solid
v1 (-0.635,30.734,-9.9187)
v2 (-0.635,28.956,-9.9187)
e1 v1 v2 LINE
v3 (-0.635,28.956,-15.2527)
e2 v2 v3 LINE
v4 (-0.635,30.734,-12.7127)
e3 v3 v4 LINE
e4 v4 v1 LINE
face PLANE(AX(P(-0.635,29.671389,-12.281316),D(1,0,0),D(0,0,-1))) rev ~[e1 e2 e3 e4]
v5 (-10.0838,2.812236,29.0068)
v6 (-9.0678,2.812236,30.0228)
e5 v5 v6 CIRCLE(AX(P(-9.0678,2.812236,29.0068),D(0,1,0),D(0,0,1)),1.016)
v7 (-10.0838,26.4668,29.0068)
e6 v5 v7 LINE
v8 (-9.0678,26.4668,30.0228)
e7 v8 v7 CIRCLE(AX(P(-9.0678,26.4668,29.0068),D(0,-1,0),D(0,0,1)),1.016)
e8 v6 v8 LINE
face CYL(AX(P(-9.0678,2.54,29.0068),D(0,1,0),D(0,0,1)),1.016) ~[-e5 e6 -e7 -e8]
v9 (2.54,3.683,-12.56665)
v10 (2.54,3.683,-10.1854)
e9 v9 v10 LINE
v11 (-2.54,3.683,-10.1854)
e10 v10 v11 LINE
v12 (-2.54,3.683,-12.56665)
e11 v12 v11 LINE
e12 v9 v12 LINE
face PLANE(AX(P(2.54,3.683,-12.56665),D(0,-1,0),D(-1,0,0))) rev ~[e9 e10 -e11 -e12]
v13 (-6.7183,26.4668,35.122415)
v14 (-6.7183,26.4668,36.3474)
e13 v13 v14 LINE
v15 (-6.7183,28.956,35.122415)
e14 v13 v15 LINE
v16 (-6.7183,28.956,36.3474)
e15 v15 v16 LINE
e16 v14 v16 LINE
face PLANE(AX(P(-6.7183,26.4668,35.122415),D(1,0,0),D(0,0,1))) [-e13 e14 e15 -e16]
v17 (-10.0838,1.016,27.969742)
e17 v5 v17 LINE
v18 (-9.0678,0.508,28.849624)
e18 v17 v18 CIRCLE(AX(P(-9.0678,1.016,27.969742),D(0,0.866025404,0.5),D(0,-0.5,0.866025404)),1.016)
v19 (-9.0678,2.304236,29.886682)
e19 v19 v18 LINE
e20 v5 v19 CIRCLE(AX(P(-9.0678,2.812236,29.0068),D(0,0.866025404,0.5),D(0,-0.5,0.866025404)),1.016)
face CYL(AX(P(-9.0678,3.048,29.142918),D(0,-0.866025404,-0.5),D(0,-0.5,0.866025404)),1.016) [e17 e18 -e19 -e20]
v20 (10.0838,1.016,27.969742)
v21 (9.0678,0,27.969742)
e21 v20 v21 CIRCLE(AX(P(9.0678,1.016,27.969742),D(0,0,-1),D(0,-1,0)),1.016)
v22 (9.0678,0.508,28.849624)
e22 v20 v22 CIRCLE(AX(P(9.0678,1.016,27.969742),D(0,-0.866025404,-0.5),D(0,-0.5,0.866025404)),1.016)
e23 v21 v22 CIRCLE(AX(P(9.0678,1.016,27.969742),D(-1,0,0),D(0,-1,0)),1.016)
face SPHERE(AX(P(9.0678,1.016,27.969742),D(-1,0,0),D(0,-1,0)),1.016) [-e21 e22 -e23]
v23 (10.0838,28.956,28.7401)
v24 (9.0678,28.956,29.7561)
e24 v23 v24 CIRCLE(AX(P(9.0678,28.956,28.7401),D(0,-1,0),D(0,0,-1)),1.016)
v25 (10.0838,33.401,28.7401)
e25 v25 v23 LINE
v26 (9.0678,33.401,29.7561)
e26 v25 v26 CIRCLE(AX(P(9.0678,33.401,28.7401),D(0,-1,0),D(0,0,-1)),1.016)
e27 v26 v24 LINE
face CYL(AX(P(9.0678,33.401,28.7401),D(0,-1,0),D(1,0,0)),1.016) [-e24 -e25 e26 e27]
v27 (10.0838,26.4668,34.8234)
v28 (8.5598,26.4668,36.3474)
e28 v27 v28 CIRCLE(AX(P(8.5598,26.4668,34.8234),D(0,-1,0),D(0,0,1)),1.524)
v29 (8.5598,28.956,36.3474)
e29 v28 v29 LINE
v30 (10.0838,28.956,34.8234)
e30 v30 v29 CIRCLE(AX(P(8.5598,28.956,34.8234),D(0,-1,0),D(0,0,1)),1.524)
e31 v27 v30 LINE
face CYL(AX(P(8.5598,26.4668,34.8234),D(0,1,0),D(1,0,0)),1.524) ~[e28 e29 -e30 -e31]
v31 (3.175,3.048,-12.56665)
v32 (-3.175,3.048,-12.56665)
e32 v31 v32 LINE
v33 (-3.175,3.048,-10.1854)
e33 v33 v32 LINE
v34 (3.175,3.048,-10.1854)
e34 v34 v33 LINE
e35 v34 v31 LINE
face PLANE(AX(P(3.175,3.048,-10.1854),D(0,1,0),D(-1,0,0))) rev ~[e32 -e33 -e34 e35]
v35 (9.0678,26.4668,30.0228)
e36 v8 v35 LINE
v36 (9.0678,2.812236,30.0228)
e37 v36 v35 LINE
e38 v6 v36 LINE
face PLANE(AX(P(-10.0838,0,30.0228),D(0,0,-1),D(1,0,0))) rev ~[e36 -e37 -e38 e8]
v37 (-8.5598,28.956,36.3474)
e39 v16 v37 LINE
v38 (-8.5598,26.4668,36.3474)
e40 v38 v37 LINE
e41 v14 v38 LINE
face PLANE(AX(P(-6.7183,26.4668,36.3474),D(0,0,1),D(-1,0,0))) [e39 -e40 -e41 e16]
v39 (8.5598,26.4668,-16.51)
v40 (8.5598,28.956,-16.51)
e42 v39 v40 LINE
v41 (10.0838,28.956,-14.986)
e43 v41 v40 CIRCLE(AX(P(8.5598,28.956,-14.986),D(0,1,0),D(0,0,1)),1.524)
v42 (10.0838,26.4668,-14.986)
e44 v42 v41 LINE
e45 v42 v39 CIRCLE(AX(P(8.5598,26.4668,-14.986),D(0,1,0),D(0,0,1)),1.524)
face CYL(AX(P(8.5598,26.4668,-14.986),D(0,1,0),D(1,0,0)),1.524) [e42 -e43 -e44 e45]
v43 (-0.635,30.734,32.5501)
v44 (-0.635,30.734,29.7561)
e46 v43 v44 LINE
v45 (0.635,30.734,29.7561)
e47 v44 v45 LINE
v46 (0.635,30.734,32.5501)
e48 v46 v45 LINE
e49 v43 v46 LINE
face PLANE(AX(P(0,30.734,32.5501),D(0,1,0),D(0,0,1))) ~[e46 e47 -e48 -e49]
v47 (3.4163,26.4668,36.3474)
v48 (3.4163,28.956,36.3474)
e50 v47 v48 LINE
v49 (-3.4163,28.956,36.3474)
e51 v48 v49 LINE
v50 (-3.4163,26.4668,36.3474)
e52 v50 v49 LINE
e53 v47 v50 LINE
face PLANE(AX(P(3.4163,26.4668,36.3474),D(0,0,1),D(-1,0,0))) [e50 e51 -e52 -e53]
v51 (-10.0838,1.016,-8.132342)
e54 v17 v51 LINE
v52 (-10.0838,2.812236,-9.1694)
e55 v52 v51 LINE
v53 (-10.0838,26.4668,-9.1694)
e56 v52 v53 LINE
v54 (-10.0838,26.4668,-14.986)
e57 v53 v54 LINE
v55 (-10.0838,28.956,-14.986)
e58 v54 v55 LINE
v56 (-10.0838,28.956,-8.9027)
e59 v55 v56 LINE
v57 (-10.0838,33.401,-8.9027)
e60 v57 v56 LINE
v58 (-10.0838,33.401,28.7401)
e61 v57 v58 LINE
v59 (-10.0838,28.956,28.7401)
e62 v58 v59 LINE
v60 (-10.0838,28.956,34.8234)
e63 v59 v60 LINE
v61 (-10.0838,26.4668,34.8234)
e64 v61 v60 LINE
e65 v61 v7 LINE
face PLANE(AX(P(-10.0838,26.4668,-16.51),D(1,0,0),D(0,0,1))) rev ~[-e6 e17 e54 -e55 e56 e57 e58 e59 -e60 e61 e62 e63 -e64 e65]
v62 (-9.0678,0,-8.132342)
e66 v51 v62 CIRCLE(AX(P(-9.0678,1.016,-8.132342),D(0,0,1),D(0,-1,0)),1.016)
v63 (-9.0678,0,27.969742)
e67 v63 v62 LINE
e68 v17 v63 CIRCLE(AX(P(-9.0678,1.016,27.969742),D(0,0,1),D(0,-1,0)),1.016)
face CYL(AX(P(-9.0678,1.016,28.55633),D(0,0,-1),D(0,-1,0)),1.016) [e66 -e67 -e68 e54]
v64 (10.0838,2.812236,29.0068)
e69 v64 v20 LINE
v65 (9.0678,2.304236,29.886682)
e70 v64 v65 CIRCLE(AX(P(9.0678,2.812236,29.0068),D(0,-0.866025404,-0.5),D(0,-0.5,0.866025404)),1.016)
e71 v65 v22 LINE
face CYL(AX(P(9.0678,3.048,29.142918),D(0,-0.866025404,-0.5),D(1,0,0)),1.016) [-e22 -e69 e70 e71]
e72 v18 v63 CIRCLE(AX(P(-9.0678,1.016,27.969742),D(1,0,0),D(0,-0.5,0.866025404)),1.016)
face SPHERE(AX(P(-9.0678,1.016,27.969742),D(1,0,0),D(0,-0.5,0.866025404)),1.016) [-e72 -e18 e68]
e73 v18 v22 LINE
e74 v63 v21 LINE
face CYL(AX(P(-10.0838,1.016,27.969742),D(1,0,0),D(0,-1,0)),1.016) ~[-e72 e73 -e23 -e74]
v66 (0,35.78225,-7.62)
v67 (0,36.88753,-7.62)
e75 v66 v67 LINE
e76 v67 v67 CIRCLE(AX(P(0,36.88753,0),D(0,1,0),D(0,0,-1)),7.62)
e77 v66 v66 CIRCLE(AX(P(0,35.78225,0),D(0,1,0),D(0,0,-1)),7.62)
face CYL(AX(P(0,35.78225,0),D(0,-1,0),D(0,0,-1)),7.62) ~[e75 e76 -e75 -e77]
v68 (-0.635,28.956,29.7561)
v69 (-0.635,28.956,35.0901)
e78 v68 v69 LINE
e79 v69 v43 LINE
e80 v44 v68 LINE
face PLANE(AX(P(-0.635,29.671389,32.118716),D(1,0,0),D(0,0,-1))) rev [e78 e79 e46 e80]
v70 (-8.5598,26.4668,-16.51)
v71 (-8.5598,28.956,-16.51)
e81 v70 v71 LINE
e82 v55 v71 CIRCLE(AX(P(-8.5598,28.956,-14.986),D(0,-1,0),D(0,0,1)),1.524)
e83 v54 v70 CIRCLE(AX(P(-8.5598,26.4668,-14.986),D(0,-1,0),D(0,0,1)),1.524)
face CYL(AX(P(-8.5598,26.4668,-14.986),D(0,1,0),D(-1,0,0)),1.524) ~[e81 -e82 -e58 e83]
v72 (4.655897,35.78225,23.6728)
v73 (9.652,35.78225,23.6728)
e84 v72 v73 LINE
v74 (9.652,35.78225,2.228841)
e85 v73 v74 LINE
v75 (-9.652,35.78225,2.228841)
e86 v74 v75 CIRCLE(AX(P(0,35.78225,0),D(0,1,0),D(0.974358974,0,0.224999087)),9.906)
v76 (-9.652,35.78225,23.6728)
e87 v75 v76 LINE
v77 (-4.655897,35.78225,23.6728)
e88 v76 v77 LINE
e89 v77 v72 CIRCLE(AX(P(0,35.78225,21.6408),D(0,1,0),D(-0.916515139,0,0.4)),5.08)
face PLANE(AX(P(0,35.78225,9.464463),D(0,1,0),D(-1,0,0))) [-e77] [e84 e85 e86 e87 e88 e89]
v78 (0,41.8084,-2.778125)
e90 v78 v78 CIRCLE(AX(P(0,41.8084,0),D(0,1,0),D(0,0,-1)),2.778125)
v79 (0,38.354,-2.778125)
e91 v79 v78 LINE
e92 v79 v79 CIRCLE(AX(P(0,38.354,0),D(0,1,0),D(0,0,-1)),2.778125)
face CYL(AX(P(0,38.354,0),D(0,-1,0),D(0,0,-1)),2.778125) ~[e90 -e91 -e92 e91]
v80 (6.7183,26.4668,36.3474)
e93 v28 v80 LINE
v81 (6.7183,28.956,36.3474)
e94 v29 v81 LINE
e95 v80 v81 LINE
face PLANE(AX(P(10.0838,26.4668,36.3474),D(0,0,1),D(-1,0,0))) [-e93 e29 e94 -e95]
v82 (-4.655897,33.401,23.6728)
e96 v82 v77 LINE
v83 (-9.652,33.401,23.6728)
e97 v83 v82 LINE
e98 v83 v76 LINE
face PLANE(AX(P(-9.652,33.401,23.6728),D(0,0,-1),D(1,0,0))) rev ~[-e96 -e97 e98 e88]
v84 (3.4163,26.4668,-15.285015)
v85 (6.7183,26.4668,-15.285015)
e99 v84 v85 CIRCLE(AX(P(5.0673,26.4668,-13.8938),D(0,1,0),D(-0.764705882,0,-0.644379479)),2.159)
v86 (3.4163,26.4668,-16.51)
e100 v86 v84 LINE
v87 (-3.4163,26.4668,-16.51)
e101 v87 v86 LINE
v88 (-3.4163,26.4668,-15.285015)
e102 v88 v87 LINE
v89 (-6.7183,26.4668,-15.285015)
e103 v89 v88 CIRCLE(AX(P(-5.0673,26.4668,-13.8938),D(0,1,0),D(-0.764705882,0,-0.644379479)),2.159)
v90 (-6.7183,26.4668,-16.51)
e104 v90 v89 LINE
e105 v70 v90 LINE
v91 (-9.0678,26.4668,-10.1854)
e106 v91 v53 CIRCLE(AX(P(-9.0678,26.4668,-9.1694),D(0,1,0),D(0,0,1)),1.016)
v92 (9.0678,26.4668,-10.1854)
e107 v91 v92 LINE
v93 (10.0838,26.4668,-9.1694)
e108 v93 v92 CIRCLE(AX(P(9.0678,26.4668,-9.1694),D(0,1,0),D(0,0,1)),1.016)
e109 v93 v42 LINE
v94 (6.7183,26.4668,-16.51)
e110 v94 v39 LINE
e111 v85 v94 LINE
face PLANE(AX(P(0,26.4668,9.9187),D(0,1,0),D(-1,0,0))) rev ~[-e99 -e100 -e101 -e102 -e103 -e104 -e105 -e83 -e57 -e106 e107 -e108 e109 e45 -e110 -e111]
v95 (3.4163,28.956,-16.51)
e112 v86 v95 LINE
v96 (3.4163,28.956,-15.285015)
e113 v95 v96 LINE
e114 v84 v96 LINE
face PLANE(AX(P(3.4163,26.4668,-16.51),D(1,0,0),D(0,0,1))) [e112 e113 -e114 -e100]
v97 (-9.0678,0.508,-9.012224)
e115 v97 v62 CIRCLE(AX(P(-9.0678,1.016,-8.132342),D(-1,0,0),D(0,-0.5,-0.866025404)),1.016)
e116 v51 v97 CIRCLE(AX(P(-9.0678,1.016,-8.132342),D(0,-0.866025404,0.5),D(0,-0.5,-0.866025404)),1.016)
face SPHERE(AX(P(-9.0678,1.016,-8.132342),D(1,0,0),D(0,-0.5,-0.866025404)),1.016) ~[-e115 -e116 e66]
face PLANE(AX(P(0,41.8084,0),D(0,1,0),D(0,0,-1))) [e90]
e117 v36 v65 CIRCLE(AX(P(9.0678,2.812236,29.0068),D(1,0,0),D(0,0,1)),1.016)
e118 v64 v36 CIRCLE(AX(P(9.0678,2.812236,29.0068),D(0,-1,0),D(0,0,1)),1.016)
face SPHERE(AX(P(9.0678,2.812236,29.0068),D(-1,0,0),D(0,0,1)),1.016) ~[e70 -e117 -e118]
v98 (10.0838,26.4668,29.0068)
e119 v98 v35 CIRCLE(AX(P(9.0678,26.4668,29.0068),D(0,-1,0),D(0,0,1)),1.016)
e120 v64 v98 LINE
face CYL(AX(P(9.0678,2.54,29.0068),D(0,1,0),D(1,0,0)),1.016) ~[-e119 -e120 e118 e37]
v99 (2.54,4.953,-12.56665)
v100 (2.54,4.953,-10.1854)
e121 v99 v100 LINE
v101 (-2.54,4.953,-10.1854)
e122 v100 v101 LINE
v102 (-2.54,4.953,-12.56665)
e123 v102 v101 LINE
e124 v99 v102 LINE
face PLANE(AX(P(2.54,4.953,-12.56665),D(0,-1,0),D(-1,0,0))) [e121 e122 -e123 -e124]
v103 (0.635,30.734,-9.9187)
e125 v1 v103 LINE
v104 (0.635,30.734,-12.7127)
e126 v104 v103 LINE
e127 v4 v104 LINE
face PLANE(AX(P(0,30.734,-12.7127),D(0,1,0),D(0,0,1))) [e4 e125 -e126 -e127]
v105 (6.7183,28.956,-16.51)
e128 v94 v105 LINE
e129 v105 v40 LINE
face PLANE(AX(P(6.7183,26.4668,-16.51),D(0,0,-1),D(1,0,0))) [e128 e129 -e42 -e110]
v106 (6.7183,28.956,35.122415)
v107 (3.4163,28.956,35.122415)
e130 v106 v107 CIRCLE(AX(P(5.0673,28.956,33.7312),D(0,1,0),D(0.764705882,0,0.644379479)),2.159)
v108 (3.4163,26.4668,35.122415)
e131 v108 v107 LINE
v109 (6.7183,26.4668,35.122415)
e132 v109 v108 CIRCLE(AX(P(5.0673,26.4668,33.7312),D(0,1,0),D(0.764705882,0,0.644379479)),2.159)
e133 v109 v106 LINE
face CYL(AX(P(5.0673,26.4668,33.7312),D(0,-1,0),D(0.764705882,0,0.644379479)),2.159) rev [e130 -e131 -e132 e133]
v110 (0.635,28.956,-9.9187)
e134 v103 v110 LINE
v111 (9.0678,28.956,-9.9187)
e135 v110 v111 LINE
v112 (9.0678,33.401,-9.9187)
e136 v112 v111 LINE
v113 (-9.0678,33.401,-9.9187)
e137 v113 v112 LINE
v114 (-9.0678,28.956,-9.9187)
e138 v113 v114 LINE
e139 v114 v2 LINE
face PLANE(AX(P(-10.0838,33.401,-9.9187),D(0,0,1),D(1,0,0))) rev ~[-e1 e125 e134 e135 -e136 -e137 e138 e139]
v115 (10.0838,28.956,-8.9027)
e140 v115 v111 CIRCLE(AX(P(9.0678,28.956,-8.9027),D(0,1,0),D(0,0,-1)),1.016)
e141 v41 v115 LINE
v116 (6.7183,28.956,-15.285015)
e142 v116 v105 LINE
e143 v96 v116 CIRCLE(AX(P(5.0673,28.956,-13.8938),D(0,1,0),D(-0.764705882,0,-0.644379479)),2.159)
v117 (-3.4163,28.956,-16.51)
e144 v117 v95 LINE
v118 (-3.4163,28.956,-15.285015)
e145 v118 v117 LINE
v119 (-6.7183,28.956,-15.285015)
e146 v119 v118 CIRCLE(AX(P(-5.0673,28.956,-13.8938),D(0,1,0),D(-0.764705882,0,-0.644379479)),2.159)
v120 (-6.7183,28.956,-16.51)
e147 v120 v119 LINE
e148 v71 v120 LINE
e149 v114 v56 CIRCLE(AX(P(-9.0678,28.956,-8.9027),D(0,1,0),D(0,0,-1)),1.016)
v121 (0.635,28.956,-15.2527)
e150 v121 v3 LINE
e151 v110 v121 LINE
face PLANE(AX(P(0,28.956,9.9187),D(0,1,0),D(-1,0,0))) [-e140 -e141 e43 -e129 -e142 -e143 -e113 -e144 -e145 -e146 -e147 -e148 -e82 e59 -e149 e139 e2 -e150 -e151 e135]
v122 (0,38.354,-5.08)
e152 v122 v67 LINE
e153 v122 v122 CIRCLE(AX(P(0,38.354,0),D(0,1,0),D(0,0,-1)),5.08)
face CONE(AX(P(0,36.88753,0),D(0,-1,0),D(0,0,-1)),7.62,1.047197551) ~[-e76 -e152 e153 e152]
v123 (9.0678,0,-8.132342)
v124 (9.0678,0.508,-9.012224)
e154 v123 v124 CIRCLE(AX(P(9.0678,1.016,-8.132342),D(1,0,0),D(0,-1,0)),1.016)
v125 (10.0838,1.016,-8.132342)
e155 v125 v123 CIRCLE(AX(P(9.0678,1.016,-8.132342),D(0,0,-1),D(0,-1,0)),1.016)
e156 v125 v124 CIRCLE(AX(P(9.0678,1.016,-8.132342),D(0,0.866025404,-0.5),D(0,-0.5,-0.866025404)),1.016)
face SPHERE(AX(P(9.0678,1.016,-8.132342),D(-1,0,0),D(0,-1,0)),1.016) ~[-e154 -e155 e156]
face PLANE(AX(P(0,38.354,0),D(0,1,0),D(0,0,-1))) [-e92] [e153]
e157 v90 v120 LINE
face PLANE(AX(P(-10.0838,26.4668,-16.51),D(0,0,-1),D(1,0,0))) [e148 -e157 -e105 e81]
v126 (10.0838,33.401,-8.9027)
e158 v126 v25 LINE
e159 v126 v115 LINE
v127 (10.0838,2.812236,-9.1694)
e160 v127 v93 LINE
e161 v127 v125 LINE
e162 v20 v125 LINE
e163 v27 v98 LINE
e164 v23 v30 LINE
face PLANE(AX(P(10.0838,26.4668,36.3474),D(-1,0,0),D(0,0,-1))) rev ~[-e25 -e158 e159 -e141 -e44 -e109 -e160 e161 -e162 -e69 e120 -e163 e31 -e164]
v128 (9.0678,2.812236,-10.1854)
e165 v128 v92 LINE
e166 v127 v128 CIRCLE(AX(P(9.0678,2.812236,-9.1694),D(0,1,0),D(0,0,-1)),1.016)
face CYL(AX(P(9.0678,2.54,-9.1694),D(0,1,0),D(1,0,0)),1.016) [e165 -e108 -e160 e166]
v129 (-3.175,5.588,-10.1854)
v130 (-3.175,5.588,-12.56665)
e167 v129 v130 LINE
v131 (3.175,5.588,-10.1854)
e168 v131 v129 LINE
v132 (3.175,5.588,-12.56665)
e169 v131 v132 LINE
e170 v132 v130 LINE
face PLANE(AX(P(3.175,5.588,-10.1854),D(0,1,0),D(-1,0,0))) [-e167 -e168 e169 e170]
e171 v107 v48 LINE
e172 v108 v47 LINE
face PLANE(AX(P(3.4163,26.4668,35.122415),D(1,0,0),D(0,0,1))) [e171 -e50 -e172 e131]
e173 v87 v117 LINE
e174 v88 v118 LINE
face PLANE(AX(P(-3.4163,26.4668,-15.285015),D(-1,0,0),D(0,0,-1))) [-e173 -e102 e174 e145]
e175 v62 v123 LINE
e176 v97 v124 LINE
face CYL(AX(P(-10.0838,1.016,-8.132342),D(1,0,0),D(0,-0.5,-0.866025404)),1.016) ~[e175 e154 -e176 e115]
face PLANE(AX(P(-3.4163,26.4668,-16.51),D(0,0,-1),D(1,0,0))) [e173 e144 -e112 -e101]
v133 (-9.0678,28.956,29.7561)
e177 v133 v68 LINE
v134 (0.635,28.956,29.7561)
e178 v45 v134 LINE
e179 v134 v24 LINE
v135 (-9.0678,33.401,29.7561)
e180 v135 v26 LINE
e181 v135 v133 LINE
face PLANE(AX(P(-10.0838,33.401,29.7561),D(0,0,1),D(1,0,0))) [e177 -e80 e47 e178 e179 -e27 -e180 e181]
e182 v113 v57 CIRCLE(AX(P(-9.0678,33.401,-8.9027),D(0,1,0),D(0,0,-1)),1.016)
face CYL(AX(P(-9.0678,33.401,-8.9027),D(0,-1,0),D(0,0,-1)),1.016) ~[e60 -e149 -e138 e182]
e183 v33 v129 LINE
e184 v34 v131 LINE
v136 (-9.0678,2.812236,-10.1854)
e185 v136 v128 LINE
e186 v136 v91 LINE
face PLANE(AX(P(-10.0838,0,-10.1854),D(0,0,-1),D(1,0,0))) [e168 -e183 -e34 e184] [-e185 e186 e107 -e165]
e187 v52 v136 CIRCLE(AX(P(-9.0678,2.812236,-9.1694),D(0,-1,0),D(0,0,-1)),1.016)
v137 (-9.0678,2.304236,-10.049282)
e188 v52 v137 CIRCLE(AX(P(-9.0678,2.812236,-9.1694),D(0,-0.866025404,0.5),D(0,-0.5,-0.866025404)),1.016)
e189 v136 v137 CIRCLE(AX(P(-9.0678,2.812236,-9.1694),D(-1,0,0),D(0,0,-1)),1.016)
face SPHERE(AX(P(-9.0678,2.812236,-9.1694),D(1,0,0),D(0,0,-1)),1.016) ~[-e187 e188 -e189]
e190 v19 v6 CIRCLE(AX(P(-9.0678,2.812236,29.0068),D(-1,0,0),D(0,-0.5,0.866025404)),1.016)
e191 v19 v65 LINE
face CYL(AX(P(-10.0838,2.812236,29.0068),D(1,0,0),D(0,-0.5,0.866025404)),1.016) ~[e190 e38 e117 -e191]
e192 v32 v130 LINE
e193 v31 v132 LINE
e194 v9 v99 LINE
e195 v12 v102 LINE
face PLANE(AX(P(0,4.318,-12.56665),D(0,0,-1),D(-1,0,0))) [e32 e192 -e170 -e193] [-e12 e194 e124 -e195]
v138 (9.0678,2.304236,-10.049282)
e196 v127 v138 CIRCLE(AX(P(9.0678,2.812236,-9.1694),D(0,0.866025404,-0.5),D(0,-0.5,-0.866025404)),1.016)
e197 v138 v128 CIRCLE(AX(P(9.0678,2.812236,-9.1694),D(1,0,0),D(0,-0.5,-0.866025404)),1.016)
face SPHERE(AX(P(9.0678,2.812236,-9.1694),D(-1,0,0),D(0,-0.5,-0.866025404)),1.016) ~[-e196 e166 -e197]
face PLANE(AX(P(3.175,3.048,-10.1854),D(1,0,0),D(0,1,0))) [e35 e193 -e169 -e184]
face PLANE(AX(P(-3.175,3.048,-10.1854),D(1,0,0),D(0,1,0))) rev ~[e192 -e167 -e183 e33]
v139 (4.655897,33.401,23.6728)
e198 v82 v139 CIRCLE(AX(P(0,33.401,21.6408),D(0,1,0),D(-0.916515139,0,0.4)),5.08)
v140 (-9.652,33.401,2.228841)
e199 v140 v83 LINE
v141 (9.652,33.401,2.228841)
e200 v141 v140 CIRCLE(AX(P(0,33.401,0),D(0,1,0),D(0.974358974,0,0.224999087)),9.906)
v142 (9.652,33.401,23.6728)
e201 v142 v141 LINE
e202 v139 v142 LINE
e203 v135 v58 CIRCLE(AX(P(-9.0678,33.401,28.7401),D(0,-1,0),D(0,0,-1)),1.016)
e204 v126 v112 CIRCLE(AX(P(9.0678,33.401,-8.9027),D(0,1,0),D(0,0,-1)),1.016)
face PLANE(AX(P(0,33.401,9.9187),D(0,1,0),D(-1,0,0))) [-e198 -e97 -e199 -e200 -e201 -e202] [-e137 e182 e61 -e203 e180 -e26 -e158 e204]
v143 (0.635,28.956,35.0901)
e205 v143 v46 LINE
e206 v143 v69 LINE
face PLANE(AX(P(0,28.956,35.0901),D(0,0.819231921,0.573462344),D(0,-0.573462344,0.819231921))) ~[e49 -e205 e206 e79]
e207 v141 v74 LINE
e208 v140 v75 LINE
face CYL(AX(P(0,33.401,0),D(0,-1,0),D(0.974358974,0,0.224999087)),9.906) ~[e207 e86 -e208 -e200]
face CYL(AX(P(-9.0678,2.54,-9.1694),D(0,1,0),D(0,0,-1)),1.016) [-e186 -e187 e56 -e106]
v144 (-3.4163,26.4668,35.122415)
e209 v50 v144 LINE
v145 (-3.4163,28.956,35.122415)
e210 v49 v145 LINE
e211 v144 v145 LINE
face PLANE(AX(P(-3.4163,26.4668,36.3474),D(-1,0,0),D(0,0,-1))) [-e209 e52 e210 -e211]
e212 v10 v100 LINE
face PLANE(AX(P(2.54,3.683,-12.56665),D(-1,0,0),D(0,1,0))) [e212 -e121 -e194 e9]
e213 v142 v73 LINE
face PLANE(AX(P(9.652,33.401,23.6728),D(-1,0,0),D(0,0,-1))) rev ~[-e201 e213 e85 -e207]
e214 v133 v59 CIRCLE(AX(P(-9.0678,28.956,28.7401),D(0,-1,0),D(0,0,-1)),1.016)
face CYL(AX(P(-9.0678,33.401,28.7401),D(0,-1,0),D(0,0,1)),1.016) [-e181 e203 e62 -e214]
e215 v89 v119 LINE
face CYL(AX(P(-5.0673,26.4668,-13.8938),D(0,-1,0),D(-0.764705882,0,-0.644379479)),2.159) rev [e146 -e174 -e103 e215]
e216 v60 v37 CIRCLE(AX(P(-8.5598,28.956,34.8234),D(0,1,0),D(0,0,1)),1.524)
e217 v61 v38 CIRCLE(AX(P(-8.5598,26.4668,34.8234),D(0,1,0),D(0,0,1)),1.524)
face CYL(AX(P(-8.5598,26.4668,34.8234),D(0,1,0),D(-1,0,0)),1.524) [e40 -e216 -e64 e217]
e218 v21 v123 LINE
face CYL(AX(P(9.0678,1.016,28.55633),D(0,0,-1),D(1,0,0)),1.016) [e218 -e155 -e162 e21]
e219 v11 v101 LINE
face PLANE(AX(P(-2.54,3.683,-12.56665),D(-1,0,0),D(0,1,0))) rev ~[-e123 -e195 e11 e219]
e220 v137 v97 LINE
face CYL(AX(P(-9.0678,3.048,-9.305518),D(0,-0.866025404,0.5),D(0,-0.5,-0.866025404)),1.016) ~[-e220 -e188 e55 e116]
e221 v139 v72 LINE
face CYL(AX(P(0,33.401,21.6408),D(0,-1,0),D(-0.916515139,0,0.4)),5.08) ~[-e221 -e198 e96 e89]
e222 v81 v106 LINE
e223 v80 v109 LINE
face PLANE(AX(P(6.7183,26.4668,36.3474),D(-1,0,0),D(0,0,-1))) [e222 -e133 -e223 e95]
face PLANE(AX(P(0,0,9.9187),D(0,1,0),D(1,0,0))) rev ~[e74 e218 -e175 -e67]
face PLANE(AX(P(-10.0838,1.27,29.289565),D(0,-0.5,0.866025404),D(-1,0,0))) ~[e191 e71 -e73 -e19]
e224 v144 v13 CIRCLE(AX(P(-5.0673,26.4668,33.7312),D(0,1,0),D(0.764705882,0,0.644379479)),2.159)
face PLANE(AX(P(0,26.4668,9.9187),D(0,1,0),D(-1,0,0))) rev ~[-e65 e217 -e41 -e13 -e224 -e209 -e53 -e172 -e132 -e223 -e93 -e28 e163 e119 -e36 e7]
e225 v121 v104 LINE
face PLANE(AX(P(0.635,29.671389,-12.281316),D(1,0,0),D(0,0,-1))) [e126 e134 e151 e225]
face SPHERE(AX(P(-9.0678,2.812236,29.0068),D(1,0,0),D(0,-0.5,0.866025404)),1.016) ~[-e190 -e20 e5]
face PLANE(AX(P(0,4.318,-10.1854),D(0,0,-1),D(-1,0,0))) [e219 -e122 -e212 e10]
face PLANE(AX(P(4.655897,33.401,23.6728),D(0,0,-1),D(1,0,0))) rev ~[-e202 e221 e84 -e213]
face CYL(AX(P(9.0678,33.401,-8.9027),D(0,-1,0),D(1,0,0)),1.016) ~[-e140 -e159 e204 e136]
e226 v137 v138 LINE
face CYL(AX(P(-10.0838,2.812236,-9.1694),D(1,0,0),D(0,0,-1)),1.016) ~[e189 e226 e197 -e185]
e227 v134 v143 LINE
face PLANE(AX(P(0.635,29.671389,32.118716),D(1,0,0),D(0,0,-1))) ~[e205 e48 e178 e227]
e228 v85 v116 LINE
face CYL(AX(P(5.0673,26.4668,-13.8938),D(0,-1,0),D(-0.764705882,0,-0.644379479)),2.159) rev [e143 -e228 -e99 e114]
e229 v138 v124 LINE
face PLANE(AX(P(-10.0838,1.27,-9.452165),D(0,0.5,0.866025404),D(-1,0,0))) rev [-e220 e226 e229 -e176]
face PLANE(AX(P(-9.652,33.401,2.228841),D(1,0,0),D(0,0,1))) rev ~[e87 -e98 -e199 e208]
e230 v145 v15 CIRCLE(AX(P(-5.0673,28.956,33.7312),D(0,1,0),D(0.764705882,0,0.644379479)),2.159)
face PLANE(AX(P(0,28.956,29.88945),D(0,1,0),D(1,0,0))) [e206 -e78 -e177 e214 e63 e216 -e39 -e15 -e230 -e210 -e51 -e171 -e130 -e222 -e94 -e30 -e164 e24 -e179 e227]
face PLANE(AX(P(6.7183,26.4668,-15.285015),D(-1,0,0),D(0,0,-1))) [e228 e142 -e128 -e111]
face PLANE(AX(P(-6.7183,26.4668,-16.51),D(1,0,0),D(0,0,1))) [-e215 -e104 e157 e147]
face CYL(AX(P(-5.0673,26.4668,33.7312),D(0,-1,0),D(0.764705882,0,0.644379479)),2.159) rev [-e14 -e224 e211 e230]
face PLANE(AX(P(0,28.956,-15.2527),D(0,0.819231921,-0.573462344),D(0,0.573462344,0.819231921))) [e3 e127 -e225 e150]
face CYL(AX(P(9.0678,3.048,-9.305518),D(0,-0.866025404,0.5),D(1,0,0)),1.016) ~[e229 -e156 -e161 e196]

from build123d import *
from OCP.BRepFilletAPI import BRepFilletAPI_MakeChamfer

# Parameters (mm, degrees)
SKETCH1_W          = 20.1676
SKETCH1_H          = 40.2082
EXTRUDE1_DEPTH     = 26.4668
SKETCH2_W          = 20.1676
SKETCH2_H          = 40.2082
EXTRUDE2_DEPTH     = 2.4892
SKETCH3_W          = 20.1676
SKETCH3_H          = 40.2082
EXTRUDE3_DEPTH     = 4.445
SKETCH11_W         = 20.1676
SKETCH11_H         = 0.2667
CUT_EXTRUDE2_DEPTH = 4.445
EXTRUDE4_DEPTH     = 2.38125
SKETCH5_R          = 7.62
EXTRUDE5_DEPTH     = 2.57175
CHAMFER1_SIZE      = 2.54
CHAMFER1_SIZE2     = 1.466469684
EXTRUDE6_DEPTH     = 0.635
SKETCH8_R          = 2.778125
EXTRUDE7_DEPTH     = 3.4544
CHAMFER2_SIZE      = 2.54
CHAMFER2_SIZE2     = 1.466469684
FILLET1_R          = 1.016
FILLET2_R          = 1.524
SKETCH9_W          = 6.35
SKETCH9_H          = 2.54
EXTRUDE8_DEPTH     = 2.38125
SKETCH10_W         = 5.08
SKETCH10_H         = 1.27
CUT_EXTRUDE1_DEPTH = 2.38125


with BuildPart() as part:
    # Sketch1 → Extrude1 (new body)
    with BuildSketch(Plane(origin=(0, 0, 0), x_dir=(1, 0, 0), z_dir=(0, 1, 0))):
        with Locations((0, -9.9187)):
            Rectangle(SKETCH1_W, SKETCH1_H)
    extrude(amount=EXTRUDE1_DEPTH)

    # Sketch2 → Extrude2 (add)
    with BuildSketch(Plane(origin=(0, 26.4668, 0), x_dir=(-1, 0, 0), z_dir=(0, 1, 0))):
        with Locations((0, 9.9187)):
            Rectangle(SKETCH2_W, SKETCH2_H)
        with BuildLine():
            ThreePointArc((6.7183, -15.285015296), (5.0673, -11.7348), (3.4163, -15.285015296))
            Line((3.4163, -15.285015296), (3.4163, -16.51))
            Line((3.4163, -16.51), (-3.4163, -16.51))
            Line((-3.4163, -16.51), (-3.4163, -15.285015296))
            ThreePointArc((-3.4163, -15.285015296), (-5.0673, -11.7348), (-6.7183, -15.285015296))
            Line((-6.7183, -15.285015296), (-6.7183, -16.51))
            Line((-6.7183, -16.51), (-10.0838, -16.51))
            Line((-10.0838, -16.51), (-10.0838, -10.1854))
            Line((-10.0838, -10.1854), (10.0838, -10.1854))
            Line((10.0838, -10.1854), (10.0838, -16.51))
            Line((10.0838, -16.51), (6.7183, -16.51))
            Line((6.7183, -16.51), (6.7183, -15.285015296))
        make_face()
        with BuildLine():
            ThreePointArc((-6.7183, 35.122415296), (-5.0673, 31.5722), (-3.4163, 35.122415296))
            Line((-3.4163, 35.122415296), (-3.4163, 36.3474))
            Line((-3.4163, 36.3474), (3.4163, 36.3474))
            Line((3.4163, 36.3474), (3.4163, 35.122415296))
            ThreePointArc((3.4163, 35.122415296), (5.0673, 31.5722), (6.7183, 35.122415296))
            Line((6.7183, 35.122415296), (6.7183, 36.3474))
            Line((6.7183, 36.3474), (10.0838, 36.3474))
            Line((10.0838, 36.3474), (10.0838, 30.0228))
            Line((10.0838, 30.0228), (-10.0838, 30.0228))
            Line((-10.0838, 30.0228), (-10.0838, 36.3474))
            Line((-10.0838, 36.3474), (-6.7183, 36.3474))
            Line((-6.7183, 36.3474), (-6.7183, 35.122415296))
        make_face()
    extrude(amount=EXTRUDE2_DEPTH)

    # Sketch3 → Extrude3 (add)
    with BuildSketch(Plane(origin=(0, 28.956, 0), x_dir=(-1, 0, 0), z_dir=(0, 1, 0))):
        with Locations((0, 9.9187)):
            Rectangle(SKETCH3_W, SKETCH3_H)
    extrude(amount=EXTRUDE3_DEPTH)

    # Sketch11 → Cut-Extrude2 (cut)
    with BuildSketch(Plane(origin=(0, 33.401, 0), x_dir=(1, 0, 0), z_dir=(0, 1, 0))):
        with Locations((0, 10.05205)):
            Rectangle(SKETCH11_W, SKETCH11_H)
        with Locations((0, -29.88945)):
            Rectangle(SKETCH11_W, SKETCH11_H)
    extrude(amount=-CUT_EXTRUDE2_DEPTH, mode=Mode.SUBTRACT)

    # Sketch4 → Extrude4 (add)
    with BuildSketch(Plane(origin=(0, 33.401, 0), x_dir=(-1, 0, 0), z_dir=(0, 1, 0))):
        with BuildLine():
            Line((9.652, 2.228840954), (9.652, 23.6728))
            Line((9.652, 23.6728), (4.655896906, 23.6728))
            ThreePointArc((4.655896906, 23.6728), (0, 26.7208), (-4.655896906, 23.6728))
            Line((-4.655896906, 23.6728), (-9.652, 23.6728))
            Line((-9.652, 23.6728), (-9.652, 2.228840954))
            ThreePointArc((-9.652, 2.228840954), (0, -9.906), (9.652, 2.228840954))
        make_face()
    extrude(amount=EXTRUDE4_DEPTH)

    # Sketch5 → Extrude5 (add)
    with BuildSketch(Plane(origin=(0, 35.78225, 0), x_dir=(-1, 0, 0), z_dir=(0, 1, 0))):
        with Locations(Location((0, 0, 0), (0, 0, 270))):
            Circle(SKETCH5_R)
    extrude(amount=EXTRUDE5_DEPTH)

    # Chamfer1
    chamfer1_edges = [part.edges().sort_by_distance(p)[0] for p in [
        (0, 38.354, 7.62),
    ]]
    chamfer1_side = [part.faces().sort_by_distance(p)[0] for p in [
        (0, 38.354, 0),
    ]]
    chamfer(chamfer1_edges, length=CHAMFER1_SIZE, length2=CHAMFER1_SIZE2, reference=chamfer1_side[0])

    # Sketch7 → Extrude6 (add, symmetric)
    with BuildSketch(Plane(origin=(0, 0, 0), x_dir=(0, 0, -1), z_dir=(1, 0, 0))):
        Polygon((15.2527, 28.956), (12.7127, 30.734), (9.9187, 30.734), (9.9187, 28.956), align=None)
    extrude6 = extrude(amount=EXTRUDE6_DEPTH, both=True)

    # Mirror1: Extrude6 across plane
    add(extrude6.mirror(Plane(origin=(0, 0, 9.9187), x_dir=(1, 0, 0), z_dir=(0, 0, -1))))

    # Sketch8 → Extrude7 (add)
    with BuildSketch(Plane(origin=(0, 38.354, 0), x_dir=(-1, 0, 0), z_dir=(0, 1, 0))):
        with Locations(Location((0, 0, 0), (0, 0, 270))):
            Circle(SKETCH8_R)
    extrude(amount=EXTRUDE7_DEPTH)

    # Chamfer2: one chamfer whose edges measure the first distance from different faces: ONE call of the kernel's chamfer builder (chamfer() names one face for all edges)
    chamfer2_edges_1 = [part.edges().sort_by_distance(p)[0] for p in [
        (0, 0, -10.1854),
    ]]
    chamfer2_side_1 = [part.faces().sort_by_distance(p)[0] for p in [
        (0, 13.2334, -10.1854),
    ]]
    chamfer2_edges_2 = [part.edges().sort_by_distance(p)[0] for p in [
        (0, 0, 30.0228),
    ]]
    chamfer2_side_2 = [part.faces().sort_by_distance(p)[0] for p in [
        (0, 13.2334, 30.0228),
    ]]
    chamfer2 = BRepFilletAPI_MakeChamfer(part.part.solid().wrapped)
    for e in chamfer2_edges_1:
        chamfer2.Add(CHAMFER2_SIZE, CHAMFER2_SIZE2, e.wrapped, chamfer2_side_1[0].wrapped)  # the first distance lies on this face
    for e in chamfer2_edges_2:
        chamfer2.Add(CHAMFER2_SIZE, CHAMFER2_SIZE2, e.wrapped, chamfer2_side_2[0].wrapped)  # the first distance lies on this face
    add(Compound.cast(chamfer2.Shape()), mode=Mode.REPLACE)

    # Fillet1
    fillet1_edges = [part.edges().sort_by_distance(p)[0] for p in [
        (10.0838, 0, 9.9187),
        (10.0838, 1.27, -9.452165158),
        (10.0838, 14.5034, -10.1854),
        (0, 0, -8.718930316),
        (0, 2.54, -10.1854),
        (-10.0838, 14.5034, -10.1854),
        (-10.0838, 1.27, -9.452165158),
        (10.0838, 14.5034, 30.0228),
        (10.0838, 1.27, 29.289565158),
        (0, 2.54, 30.0228),
        (-10.0838, 0, 9.9187),
        (0, 0, 28.556330316),
        (-10.0838, 1.27, 29.289565158),
        (-10.0838, 14.5034, 30.0228),
        (10.0838, 31.1785, 29.7561),
        (-10.0838, 31.1785, 29.7561),
        (10.0838, 31.1785, -9.9187),
        (-10.0838, 31.1785, -9.9187),
    ]]
    fillet(fillet1_edges, radius=FILLET1_R)

    # Fillet2
    fillet2_edges = [part.edges().sort_by_distance(p)[0] for p in [
        (-10.0838, 27.7114, 36.3474),
        (10.0838, 27.7114, 36.3474),
        (-10.0838, 27.7114, -16.51),
        (10.0838, 27.7114, -16.51),
    ]]
    fillet(fillet2_edges, radius=FILLET2_R)

    # Sketch9 → Extrude8 (add)
    with BuildSketch(Plane(origin=(0, 0, -10.1854), x_dir=(-1, 0, 0), z_dir=(0, 0, -1))):
        with Locations((0, 4.318)):
            Rectangle(SKETCH9_W, SKETCH9_H)
    extrude(amount=EXTRUDE8_DEPTH)

    # Sketch10 → Cut-Extrude1 (cut)
    with BuildSketch(Plane(origin=(0, 0, -12.56665), x_dir=(-1, 0, 0), z_dir=(0, 0, -1))):
        with Locations((0, 4.318)):
            Rectangle(SKETCH10_W, SKETCH10_H)
    extrude(amount=-CUT_EXTRUDE1_DEPTH, mode=Mode.SUBTRACT)


solid = part.part
